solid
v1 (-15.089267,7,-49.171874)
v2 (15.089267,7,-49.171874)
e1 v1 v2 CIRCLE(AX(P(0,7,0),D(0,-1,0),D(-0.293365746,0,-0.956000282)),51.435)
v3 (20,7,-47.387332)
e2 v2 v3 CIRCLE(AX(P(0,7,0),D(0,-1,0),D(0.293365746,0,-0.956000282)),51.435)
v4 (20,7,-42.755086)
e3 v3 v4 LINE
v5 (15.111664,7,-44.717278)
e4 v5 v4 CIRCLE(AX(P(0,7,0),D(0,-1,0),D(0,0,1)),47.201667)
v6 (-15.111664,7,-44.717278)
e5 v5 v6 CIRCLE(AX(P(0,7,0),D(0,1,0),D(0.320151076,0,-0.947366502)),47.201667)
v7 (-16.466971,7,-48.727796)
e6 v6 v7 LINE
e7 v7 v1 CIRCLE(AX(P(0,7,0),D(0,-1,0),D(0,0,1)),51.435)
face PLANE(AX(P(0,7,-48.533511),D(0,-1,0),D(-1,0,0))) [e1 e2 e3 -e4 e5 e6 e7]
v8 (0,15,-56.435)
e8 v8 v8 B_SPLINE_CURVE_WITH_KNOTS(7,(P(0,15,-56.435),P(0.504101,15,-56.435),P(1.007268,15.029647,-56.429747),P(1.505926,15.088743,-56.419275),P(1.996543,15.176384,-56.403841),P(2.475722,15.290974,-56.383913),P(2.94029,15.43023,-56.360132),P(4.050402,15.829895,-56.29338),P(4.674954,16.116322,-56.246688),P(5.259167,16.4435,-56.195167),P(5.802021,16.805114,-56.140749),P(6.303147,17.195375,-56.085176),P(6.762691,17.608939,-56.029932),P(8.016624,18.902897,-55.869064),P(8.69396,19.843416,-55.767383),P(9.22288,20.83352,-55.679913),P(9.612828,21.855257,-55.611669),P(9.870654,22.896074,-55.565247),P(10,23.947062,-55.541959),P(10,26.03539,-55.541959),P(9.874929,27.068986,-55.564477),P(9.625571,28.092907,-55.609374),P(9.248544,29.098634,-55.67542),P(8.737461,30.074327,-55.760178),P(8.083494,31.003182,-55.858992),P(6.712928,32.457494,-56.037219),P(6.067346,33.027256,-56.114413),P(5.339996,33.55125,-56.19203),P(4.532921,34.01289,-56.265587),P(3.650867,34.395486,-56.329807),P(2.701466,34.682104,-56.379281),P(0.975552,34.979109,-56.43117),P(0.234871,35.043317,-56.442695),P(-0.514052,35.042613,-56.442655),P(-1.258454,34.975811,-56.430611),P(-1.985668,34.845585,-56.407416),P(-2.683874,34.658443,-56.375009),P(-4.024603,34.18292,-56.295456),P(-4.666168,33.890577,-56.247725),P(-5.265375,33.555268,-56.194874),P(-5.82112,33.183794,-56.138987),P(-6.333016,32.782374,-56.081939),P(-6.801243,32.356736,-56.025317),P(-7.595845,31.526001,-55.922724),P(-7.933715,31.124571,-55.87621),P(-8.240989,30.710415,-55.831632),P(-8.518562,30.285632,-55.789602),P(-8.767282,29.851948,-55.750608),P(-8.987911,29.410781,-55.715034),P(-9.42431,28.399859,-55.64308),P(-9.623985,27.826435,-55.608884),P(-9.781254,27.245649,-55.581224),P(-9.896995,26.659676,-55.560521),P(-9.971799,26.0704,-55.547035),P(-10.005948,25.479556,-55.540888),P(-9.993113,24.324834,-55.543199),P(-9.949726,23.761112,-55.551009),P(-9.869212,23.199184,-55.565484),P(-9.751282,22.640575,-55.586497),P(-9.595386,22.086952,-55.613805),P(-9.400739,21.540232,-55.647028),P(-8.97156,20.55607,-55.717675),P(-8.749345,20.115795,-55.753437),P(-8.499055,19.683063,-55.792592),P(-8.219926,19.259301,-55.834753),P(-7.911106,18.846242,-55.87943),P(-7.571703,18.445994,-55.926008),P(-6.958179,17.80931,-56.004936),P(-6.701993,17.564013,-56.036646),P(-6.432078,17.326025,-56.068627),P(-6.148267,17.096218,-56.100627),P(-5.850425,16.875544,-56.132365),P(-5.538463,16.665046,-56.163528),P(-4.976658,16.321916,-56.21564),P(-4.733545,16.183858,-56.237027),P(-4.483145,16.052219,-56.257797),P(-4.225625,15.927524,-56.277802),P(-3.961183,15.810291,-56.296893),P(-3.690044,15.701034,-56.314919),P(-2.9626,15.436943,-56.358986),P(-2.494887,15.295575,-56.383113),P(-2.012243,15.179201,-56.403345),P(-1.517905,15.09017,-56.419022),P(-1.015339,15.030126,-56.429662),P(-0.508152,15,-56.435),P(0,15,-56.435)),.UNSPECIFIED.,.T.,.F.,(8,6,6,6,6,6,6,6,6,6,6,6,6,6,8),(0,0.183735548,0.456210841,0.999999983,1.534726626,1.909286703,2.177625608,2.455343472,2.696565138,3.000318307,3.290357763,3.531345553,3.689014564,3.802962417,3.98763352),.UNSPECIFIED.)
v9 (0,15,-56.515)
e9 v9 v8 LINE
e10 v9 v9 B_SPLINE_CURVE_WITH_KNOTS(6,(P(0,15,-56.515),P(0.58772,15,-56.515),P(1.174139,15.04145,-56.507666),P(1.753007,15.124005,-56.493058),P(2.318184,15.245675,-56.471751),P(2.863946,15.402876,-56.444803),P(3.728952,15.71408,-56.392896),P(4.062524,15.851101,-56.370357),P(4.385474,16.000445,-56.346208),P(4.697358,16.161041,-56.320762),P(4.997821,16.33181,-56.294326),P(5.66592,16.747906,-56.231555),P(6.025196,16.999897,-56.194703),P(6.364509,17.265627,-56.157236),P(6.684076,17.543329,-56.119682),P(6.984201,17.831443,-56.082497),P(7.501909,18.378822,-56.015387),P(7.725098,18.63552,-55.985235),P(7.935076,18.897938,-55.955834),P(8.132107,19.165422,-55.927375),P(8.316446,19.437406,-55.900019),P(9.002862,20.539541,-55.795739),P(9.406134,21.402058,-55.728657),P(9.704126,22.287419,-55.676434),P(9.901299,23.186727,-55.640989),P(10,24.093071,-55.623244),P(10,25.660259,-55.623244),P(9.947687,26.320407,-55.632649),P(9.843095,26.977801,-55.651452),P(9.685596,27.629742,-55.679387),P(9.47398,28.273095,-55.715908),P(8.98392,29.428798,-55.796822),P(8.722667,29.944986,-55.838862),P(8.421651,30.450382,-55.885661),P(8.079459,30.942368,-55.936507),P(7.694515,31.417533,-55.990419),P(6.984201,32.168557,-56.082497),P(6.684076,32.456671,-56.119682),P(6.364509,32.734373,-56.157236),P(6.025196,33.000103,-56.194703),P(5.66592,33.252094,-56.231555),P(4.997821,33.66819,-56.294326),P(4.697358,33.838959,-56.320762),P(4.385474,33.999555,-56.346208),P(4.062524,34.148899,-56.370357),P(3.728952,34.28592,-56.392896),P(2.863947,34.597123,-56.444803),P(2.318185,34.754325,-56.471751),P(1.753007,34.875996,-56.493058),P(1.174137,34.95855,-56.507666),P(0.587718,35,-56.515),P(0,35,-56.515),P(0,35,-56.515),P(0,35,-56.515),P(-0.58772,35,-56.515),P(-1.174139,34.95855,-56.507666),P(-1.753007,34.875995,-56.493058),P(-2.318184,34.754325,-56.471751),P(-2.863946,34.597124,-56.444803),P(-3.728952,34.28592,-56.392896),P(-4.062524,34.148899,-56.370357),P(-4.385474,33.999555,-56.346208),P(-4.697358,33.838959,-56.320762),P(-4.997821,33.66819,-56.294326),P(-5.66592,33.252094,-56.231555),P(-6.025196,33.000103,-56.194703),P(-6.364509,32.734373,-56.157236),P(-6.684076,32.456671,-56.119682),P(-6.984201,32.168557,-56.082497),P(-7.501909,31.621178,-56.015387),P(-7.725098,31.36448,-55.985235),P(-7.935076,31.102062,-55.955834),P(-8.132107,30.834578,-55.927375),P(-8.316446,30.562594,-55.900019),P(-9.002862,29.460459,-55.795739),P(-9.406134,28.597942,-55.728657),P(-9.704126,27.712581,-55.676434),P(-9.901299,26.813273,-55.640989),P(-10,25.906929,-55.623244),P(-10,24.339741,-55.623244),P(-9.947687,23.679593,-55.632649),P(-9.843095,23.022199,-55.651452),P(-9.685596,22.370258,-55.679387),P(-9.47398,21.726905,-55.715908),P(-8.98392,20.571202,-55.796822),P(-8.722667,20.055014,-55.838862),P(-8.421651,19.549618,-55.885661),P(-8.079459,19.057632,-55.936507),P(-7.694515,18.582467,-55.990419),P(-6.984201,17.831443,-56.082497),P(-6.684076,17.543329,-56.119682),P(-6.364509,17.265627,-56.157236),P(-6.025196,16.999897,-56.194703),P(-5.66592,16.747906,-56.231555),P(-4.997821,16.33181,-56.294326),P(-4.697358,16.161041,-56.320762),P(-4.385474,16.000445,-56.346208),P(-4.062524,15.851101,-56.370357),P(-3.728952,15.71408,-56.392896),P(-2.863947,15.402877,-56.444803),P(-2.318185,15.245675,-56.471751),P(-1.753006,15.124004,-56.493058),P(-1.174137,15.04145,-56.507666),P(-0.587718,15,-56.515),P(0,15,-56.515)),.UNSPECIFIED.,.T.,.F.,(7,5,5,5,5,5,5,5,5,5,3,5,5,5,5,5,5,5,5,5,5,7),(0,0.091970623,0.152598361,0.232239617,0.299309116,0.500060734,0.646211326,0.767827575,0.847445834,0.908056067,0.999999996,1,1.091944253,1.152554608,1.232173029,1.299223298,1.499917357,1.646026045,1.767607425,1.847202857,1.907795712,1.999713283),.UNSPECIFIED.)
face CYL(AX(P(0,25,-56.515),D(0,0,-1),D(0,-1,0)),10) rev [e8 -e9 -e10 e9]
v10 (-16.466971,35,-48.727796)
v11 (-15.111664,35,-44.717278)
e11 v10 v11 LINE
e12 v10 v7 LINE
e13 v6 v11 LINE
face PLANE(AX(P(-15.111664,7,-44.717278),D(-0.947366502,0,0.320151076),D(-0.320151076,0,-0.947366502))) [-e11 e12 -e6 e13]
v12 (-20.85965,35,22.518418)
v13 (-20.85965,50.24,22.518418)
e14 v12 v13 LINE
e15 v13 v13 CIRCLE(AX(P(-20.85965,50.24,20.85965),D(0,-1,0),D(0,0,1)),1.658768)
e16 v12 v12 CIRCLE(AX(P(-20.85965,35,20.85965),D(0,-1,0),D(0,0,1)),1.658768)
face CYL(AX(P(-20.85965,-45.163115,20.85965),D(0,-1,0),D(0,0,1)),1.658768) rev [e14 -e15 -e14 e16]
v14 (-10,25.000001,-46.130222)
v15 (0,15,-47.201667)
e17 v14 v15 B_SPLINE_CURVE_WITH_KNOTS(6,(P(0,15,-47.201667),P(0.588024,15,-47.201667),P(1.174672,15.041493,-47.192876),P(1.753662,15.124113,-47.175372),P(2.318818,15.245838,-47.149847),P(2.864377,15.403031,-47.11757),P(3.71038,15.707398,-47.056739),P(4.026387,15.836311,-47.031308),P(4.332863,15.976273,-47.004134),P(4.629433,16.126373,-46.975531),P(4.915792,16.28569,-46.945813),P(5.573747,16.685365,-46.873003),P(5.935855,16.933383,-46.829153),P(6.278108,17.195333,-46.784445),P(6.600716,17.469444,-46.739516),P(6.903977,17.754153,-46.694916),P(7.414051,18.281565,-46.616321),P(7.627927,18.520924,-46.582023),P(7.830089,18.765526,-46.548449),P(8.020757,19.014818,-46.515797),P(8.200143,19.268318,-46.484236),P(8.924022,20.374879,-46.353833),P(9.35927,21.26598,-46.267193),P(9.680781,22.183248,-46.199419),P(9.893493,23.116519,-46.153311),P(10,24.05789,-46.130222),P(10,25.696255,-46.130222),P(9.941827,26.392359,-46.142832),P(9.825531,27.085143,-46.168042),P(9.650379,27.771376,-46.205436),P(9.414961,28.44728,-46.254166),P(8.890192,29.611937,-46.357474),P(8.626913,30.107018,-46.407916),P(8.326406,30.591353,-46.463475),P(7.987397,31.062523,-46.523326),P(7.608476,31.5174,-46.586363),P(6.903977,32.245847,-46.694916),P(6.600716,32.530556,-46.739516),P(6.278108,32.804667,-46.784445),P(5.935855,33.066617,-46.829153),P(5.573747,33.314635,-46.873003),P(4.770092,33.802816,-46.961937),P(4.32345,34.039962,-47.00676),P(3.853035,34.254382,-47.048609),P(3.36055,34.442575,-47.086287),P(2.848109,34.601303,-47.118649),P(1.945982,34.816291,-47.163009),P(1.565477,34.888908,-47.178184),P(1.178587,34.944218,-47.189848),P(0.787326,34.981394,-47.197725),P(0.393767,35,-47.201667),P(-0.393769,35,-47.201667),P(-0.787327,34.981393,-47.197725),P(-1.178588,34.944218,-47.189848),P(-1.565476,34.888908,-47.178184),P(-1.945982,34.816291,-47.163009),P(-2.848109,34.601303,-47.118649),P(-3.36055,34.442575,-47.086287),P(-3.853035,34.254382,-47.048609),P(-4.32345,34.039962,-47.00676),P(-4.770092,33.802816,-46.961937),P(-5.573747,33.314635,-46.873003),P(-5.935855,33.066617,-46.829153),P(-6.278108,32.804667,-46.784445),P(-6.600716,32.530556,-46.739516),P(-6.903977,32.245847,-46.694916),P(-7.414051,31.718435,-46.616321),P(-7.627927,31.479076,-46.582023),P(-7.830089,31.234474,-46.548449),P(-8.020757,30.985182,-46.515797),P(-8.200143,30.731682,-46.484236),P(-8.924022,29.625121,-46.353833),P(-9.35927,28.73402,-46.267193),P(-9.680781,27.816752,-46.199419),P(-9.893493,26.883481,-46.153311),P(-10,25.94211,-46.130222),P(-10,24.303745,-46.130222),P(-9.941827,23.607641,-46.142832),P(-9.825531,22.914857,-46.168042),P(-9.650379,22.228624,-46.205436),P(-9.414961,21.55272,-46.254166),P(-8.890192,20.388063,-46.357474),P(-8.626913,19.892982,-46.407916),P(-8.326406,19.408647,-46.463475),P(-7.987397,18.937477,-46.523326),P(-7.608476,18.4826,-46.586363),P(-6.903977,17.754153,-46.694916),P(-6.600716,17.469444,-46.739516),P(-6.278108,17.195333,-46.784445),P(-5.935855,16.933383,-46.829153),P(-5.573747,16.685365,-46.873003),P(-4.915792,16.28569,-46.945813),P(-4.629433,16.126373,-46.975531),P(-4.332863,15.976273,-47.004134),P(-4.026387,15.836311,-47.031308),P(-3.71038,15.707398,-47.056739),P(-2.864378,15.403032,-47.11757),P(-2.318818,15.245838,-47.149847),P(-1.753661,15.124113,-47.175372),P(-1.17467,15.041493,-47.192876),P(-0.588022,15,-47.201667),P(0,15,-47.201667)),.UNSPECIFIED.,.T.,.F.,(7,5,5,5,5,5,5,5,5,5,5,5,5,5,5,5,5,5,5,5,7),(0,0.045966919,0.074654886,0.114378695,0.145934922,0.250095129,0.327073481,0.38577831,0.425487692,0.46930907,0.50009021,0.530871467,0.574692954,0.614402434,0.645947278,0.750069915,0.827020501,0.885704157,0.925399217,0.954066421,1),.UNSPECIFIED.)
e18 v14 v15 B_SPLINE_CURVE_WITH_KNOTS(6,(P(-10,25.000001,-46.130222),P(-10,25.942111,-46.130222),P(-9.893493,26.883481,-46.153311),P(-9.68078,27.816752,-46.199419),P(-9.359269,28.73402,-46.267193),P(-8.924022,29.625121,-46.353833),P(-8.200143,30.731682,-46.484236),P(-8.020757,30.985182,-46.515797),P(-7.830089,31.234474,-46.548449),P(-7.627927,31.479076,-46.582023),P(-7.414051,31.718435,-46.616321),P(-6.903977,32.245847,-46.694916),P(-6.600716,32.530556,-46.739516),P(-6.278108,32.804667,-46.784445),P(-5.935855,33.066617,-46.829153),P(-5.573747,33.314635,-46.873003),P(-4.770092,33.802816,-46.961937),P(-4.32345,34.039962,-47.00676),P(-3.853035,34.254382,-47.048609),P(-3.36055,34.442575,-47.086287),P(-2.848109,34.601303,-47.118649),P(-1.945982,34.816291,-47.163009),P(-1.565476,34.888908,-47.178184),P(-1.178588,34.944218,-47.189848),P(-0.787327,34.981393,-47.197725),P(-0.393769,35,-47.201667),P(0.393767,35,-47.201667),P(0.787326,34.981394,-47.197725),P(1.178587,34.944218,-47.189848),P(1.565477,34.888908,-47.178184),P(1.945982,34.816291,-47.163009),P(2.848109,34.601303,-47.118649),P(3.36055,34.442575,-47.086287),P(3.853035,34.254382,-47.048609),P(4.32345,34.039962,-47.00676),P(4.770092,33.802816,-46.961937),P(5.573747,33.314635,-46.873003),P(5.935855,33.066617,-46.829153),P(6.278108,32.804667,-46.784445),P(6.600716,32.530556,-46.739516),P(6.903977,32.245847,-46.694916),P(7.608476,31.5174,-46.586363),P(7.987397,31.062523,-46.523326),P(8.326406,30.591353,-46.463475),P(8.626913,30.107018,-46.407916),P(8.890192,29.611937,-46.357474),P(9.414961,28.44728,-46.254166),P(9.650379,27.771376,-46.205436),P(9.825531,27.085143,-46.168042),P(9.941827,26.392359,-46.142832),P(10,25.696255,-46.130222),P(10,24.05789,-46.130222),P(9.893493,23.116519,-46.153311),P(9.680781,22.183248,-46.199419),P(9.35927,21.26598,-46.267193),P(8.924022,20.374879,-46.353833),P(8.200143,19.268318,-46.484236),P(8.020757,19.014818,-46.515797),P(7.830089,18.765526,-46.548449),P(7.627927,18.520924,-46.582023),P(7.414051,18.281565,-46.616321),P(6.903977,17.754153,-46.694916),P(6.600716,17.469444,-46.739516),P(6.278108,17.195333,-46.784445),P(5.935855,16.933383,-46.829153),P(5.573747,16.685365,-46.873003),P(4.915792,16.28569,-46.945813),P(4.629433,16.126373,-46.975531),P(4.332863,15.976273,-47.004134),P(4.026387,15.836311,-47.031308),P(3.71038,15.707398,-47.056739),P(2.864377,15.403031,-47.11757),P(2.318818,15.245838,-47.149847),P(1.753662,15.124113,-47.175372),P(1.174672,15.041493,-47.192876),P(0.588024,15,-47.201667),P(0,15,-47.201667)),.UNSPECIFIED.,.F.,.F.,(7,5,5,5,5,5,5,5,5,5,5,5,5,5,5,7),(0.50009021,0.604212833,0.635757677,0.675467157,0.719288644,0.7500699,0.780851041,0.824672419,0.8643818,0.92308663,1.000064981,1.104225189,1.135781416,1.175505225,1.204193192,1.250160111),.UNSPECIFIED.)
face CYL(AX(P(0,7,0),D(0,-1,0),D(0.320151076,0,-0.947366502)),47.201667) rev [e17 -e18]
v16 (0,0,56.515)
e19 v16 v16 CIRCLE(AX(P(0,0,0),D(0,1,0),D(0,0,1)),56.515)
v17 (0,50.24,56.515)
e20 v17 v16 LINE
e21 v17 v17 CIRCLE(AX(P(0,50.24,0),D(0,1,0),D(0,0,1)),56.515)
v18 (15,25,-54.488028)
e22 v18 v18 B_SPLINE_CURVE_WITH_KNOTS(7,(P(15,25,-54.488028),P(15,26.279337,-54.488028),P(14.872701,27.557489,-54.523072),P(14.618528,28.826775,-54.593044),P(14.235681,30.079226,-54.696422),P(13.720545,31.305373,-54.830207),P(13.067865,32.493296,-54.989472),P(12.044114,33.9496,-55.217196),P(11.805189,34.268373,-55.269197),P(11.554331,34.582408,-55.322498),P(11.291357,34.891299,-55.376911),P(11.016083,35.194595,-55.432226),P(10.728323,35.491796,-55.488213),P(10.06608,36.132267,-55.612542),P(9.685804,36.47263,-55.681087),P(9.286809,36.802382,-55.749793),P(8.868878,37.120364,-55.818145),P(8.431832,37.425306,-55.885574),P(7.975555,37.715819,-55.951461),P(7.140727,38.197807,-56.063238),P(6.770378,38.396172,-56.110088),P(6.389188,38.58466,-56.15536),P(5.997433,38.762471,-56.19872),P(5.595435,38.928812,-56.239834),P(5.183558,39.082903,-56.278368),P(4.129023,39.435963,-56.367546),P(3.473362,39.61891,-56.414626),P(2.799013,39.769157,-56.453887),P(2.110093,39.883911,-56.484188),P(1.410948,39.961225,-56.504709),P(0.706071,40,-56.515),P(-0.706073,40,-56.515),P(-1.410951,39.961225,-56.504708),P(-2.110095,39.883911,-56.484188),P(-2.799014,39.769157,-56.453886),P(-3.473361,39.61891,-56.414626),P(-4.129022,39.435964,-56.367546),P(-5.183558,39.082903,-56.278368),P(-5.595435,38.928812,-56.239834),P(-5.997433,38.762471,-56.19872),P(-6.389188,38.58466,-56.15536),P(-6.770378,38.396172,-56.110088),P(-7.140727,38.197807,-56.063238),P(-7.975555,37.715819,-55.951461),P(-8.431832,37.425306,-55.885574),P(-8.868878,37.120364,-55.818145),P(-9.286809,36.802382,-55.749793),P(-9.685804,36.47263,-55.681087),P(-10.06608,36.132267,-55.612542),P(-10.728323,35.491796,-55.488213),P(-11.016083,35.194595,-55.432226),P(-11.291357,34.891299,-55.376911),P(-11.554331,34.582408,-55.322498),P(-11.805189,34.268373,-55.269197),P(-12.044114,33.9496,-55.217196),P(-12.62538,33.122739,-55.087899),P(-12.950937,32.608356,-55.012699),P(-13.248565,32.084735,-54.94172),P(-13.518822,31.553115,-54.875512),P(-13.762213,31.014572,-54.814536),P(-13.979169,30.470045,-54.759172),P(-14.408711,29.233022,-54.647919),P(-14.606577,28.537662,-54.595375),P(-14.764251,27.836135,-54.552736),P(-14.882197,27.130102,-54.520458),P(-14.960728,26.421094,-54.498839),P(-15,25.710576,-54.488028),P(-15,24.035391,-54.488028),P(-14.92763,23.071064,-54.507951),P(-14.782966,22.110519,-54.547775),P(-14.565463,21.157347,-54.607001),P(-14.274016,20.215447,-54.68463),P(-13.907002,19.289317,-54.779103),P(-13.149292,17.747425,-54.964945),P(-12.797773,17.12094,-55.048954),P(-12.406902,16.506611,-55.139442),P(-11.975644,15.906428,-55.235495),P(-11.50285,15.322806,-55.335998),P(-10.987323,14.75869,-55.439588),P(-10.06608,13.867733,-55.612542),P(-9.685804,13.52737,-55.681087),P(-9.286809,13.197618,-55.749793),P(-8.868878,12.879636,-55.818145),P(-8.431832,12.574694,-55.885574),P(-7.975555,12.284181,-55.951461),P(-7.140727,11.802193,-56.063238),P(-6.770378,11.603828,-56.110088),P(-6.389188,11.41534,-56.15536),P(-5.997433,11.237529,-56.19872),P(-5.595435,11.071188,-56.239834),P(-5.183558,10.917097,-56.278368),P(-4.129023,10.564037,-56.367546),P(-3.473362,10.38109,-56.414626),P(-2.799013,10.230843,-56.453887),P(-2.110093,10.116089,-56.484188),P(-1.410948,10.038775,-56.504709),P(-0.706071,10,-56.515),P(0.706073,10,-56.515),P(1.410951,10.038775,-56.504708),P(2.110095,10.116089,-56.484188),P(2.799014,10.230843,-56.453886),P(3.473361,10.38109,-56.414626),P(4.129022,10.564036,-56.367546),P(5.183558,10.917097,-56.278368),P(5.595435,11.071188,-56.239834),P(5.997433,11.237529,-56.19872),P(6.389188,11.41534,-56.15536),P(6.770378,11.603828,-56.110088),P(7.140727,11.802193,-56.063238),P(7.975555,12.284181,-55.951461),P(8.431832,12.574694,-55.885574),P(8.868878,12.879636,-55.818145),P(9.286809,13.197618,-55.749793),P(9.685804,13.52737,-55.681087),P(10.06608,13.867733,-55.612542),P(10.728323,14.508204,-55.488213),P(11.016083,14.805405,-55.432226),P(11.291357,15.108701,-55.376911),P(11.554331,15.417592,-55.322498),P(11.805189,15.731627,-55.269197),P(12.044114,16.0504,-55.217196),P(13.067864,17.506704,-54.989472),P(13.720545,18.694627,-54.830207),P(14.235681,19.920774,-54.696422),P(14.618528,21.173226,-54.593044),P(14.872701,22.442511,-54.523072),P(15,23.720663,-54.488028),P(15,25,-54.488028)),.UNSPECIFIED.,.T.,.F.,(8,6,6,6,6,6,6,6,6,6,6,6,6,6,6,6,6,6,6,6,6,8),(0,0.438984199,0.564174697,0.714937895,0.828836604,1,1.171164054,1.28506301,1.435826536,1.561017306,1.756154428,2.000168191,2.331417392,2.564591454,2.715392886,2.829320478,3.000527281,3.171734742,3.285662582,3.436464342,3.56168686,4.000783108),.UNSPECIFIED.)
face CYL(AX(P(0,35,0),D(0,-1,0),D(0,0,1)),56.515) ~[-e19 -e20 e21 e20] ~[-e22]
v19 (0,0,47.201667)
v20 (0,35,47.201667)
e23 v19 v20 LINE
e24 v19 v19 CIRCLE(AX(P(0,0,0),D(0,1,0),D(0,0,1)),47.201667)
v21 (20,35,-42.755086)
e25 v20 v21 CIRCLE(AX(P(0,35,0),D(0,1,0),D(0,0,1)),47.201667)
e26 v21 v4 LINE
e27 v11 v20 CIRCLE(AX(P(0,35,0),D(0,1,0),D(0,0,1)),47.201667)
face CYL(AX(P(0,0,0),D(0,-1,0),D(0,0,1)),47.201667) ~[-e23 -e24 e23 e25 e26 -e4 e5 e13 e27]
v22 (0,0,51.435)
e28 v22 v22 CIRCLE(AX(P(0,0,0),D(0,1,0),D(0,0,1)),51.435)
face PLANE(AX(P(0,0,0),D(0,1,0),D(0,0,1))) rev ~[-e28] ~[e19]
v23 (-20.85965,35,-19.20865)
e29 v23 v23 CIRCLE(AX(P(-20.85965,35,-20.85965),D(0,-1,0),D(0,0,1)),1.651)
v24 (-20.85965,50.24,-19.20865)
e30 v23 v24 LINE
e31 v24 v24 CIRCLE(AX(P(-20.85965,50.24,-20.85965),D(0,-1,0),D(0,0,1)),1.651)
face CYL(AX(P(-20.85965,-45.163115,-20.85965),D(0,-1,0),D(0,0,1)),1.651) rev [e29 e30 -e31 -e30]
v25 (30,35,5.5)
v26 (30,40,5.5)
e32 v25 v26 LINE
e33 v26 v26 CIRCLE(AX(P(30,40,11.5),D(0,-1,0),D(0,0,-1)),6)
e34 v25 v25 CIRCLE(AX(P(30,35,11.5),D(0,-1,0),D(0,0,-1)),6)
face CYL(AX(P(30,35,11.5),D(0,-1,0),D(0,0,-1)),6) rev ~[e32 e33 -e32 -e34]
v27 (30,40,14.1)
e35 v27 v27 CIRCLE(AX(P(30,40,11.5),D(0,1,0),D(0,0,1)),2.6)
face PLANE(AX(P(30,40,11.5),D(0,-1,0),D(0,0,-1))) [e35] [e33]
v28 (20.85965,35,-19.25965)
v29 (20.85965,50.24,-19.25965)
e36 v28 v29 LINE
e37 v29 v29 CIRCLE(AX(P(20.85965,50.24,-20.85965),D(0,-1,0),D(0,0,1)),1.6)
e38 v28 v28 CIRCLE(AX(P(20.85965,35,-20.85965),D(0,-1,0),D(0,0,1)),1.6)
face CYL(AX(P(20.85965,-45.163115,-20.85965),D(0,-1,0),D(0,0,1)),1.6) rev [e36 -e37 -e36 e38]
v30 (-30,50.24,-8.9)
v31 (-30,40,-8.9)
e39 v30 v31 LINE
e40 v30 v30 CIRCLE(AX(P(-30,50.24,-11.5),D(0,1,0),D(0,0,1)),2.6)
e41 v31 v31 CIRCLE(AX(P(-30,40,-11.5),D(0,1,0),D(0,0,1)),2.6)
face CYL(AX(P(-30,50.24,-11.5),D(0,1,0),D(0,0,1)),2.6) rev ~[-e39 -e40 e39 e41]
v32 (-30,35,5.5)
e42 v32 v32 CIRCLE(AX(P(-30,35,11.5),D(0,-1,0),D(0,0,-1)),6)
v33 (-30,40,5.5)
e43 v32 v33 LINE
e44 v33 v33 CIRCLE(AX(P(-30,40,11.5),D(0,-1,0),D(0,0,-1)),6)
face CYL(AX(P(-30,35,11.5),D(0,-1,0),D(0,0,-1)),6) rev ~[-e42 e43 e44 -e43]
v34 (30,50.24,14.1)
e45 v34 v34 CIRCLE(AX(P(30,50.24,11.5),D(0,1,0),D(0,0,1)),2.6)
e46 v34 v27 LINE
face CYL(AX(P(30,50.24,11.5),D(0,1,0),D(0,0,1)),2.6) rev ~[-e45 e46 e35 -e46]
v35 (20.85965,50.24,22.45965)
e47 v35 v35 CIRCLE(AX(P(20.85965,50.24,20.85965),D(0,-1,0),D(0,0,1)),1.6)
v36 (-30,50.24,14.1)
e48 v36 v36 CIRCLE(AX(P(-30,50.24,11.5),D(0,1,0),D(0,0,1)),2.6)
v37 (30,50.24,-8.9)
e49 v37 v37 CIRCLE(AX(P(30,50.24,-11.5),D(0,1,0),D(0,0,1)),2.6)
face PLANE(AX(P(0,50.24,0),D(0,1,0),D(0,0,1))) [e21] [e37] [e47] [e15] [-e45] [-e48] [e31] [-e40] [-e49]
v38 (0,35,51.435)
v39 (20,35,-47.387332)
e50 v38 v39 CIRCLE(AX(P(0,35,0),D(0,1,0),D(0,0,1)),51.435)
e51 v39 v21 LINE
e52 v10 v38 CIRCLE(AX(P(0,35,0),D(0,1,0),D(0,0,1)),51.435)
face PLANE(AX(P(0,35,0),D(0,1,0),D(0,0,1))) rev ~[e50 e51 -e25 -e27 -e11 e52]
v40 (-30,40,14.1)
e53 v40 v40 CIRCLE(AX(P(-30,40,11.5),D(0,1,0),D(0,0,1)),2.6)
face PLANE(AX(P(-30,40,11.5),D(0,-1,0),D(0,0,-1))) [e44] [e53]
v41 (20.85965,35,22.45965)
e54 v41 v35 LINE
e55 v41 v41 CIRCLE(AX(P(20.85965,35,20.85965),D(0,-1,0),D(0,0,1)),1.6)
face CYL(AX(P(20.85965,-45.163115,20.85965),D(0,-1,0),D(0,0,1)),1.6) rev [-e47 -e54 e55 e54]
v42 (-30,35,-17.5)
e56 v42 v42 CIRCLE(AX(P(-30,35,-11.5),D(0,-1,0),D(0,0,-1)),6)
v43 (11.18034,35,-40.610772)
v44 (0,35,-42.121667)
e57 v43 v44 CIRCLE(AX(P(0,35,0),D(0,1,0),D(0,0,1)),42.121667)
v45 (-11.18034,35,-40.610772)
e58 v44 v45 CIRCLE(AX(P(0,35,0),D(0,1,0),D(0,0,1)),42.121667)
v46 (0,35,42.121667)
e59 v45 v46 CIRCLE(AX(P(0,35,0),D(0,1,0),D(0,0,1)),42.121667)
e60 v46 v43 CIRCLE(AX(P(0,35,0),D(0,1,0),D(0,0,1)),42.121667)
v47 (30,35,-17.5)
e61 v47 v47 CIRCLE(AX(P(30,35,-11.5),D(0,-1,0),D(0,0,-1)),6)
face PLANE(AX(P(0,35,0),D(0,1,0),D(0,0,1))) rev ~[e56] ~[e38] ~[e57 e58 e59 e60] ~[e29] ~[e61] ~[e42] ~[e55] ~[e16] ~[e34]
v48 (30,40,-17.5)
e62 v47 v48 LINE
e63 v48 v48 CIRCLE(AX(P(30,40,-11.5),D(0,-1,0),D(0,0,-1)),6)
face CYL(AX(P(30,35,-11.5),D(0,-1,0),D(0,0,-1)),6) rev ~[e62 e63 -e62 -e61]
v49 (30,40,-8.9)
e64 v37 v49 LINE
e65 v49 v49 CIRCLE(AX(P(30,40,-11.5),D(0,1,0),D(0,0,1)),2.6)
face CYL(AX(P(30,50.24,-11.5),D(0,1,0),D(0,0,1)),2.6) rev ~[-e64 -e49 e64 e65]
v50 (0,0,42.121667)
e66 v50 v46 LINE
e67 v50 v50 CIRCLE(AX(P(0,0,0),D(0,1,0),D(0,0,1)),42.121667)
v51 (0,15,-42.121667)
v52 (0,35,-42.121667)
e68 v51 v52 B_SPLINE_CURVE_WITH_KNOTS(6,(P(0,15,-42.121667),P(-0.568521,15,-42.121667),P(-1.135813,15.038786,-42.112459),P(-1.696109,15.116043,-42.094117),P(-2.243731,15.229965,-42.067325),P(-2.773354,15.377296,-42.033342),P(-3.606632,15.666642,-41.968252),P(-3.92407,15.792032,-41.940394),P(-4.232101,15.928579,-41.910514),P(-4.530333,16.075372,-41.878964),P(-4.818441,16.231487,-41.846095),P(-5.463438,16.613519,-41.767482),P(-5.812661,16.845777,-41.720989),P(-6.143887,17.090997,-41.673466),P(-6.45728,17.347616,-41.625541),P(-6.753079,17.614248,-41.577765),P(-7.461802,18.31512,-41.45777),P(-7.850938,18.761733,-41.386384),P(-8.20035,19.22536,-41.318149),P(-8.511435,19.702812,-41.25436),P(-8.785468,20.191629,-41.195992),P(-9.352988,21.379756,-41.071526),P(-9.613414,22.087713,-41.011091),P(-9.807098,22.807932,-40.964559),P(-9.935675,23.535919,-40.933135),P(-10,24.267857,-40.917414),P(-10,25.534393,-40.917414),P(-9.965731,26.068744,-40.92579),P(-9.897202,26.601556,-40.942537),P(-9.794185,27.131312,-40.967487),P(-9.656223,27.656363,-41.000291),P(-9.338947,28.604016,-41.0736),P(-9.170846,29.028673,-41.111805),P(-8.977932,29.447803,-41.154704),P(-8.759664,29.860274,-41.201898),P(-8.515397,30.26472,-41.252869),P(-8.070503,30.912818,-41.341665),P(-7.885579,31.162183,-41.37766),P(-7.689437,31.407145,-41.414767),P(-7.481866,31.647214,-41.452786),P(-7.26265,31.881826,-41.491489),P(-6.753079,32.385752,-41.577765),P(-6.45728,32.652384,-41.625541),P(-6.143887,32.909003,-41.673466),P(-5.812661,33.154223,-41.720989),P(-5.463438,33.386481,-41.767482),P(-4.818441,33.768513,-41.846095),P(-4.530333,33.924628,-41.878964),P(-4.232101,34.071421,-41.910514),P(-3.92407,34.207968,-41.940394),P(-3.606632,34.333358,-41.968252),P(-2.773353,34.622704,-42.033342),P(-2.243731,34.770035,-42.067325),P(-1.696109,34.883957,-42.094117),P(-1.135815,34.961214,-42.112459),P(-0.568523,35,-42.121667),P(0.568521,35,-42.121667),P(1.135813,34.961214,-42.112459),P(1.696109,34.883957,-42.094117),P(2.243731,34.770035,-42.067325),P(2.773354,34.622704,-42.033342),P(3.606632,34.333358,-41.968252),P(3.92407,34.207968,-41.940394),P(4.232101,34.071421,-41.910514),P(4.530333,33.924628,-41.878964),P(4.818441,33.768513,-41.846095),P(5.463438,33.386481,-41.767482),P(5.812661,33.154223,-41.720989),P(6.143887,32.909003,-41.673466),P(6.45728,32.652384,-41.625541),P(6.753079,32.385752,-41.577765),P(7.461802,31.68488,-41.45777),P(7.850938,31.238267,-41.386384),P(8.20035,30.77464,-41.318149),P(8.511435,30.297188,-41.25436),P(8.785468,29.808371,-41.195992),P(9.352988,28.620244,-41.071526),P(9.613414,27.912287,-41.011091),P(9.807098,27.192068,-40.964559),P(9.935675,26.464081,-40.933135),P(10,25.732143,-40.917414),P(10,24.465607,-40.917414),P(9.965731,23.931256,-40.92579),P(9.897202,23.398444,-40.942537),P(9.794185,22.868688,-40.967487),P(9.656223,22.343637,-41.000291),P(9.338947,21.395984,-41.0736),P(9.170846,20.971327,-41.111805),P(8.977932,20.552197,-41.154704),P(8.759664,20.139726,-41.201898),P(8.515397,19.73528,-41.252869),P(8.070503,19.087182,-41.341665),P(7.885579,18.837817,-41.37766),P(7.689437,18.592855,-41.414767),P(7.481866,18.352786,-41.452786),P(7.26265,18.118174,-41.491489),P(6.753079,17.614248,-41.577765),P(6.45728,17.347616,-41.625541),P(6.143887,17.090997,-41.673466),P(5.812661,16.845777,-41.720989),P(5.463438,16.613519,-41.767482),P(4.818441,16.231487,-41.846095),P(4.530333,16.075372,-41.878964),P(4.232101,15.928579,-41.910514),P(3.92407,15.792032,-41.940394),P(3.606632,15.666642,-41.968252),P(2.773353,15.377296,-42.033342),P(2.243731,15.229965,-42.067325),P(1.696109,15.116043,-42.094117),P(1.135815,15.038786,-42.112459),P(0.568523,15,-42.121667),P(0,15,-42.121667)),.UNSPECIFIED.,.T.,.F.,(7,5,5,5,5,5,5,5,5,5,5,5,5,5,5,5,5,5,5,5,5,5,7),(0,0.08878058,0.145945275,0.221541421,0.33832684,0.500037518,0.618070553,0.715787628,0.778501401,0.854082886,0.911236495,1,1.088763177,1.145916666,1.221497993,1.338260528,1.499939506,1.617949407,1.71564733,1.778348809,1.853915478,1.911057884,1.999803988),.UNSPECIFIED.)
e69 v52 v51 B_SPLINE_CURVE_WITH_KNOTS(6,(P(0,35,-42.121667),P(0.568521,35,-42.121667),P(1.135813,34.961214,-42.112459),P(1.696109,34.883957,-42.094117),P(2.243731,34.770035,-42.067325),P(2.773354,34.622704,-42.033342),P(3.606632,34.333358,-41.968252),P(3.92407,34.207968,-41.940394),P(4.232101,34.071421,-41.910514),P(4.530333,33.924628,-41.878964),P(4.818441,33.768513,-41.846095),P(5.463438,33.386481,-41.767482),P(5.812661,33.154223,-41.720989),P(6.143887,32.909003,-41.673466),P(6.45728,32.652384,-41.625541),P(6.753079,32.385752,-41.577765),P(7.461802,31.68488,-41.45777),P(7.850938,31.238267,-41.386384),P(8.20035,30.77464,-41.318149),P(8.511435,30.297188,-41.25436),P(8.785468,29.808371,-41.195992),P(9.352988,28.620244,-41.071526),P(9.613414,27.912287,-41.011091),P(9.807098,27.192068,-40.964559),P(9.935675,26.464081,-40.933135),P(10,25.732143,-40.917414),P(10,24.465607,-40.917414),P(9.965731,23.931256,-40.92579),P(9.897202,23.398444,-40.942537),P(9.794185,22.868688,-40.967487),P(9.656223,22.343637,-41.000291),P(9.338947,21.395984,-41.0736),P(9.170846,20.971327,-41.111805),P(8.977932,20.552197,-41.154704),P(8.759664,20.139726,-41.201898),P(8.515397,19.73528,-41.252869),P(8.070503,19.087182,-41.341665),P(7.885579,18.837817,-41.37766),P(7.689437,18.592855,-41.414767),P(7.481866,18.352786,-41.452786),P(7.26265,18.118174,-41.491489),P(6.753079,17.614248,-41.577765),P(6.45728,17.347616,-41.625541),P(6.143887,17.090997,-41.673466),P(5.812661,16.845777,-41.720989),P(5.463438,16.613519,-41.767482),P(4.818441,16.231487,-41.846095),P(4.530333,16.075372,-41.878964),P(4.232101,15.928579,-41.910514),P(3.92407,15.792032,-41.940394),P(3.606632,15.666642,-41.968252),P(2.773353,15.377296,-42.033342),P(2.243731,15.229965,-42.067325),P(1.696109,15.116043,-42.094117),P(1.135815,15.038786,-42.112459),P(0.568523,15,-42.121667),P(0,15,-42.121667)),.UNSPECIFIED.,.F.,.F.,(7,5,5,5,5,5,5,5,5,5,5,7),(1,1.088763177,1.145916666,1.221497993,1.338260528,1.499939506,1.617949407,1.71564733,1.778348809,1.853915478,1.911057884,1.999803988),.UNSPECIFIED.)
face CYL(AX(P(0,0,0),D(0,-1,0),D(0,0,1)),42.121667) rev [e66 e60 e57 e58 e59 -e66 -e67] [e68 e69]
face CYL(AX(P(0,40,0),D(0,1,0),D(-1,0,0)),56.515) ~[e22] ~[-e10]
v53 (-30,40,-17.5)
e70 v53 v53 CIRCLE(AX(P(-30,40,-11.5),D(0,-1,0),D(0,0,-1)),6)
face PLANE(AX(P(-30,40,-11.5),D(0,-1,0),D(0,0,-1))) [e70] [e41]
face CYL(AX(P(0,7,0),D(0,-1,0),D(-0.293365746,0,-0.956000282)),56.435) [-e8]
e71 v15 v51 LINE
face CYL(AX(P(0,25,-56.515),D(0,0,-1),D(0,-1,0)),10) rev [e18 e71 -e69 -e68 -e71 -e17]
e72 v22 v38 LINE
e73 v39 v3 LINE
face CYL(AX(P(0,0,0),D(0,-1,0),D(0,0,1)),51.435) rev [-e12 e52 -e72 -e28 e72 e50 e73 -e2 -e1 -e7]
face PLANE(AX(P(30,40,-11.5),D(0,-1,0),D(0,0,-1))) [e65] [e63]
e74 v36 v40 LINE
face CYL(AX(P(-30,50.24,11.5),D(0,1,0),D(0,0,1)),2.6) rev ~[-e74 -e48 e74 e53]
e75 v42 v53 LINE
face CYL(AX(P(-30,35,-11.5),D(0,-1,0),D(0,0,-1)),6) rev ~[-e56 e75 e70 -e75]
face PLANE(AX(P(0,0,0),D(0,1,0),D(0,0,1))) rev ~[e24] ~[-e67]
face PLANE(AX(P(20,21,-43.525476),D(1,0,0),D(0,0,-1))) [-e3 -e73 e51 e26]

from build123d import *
from build123d.topology import SkipClean

# Parameters (mm, degrees)
SKETCH2_R                = 56.515
SKETCH2_R_2              = 51.435
BOSS_EXTRUDE1_DEPTH      = 35
SKETCH2_R_3              = 47.201666667
SKETCH2_R_4              = 42.121666667
BOSS_EXTRUDE1_2_DEPTH    = 35
SKETCH3_R                = 56.515
BOSS_EXTRUDE2_DEPTH      = 15.24
CUT_EXTRUDE1_DEPTH       = 95.40311462
CUT_EXTRUDE1_DEPTH_BACK  = 95.40311462
SKETCH4_R                = 1.6
SKETCH4_R_2              = 1.65876763
SKETCH4_R_3              = 1.651
CUT_EXTRUDE18_REACH      = 96.403
SKETCH32_R               = 2.6
SKETCH_1_R               = 6
CUT_EXTRUDE_1_DEPTH      = 5
CUT_EXTRUDE_2_REACH      = 137.992
CUT_EXTRUDE_2_END_RADIUS = 42.121666667
SKETCH_3_R               = 10
SKETCH_4_R               = 15
SKETCH_4_R_2             = 10
EXTRUDE_1_DEPTH          = 17.154678362
SKETCH_10_W              = 5
SKETCH_10_H              = 4.233333333
SKETCH_10_H_2            = 4.444320869
EXTRUDE_3_DEPTH          = 33
CUT_EXTRUDE_START        = -40
SKETCH_11_R              = 61.515
SKETCH_11_R_2            = 56.515
CUT_EXTRUDE_3_DEPTH      = 30
SKETCH_15_W              = 2.458765136
SKETCH_15_H              = 28
EXTRUDE_9_DEPTH          = 5


with BuildPart() as part:
    # Sketch2 → Boss-Extrude1 (new body)
    with BuildSketch(Plane(origin=(0, 0, 0), x_dir=(1, 0, 0), z_dir=(0, 1, 0))):
        with Locations(Location((0, 0, 0), (0, 0, 270))):
            Circle(SKETCH2_R)
        with Locations(Location((0, 0, 0), (0, 0, 270))):
            Circle(SKETCH2_R_2, mode=Mode.SUBTRACT)
    extrude(amount=BOSS_EXTRUDE1_DEPTH)



with BuildPart() as body_2:
    # Sketch2 → Boss-Extrude1 2 (new body)
    with BuildSketch(Plane(origin=(0, 0, 0), x_dir=(1, 0, 0), z_dir=(0, 1, 0))):
        with Locations(Location((0, 0, 0), (0, 0, 270))):
            Circle(SKETCH2_R_3)
        with Locations(Location((0, 0, 0), (0, 0, 270))):
            Circle(SKETCH2_R_4, mode=Mode.SUBTRACT)
    extrude(amount=BOSS_EXTRUDE1_2_DEPTH)


with BuildPart() as part_1:
    add(part.part)

    add(body_2.part)  # Boss-Extrude2 merges body 2
    # Sketch3 → Boss-Extrude2 (add)
    with BuildSketch(Plane(origin=(0, 35, 0), x_dir=(1, 0, 0), z_dir=(0, 1, 0))):
        with Locations(Location((0, 0, 0), (0, 0, 270))):
            Circle(SKETCH3_R)
    extrude(amount=BOSS_EXTRUDE2_DEPTH)

    # Sketch4 → Cut-Extrude1 (cut, two sides: drawn at the far end of the back side and taken through both)
    with BuildSketch(Plane(origin=(0, 50.24, 0), x_dir=(1, 0, 0), z_dir=(0, 1, 0)).offset(-CUT_EXTRUDE1_DEPTH_BACK)):
        with Locations(Location((20.859650045, 20.859650045, 0), (0, 0, 270))):
            Circle(SKETCH4_R)
        with Locations(Location((20.859650045, -20.859650045, 0), (0, 0, 270))):
            Circle(SKETCH4_R)
        with Locations(Location((-20.859650045, -20.859650045, 0), (0, 0, 270))):
            Circle(SKETCH4_R_2)
        with Locations(Location((-20.859650045, 20.859650045, 0), (0, 0, 270))):
            Circle(SKETCH4_R_3)
    extrude(amount=CUT_EXTRUDE1_DEPTH + CUT_EXTRUDE1_DEPTH_BACK, mode=Mode.SUBTRACT)

    # Sketch32 → Cut-Extrude18 (cut, up to next)
    with BuildSketch(Plane(origin=(0, 50.24, 0), x_dir=(1, 0, 0), z_dir=(0, 1, 0)), mode=Mode.PRIVATE) as cut_extrude18_sk1:
        with Locations(Location((30, 11.5, 0), (0, 0, 270))):
            Circle(SKETCH32_R)
    cut_extrude18_tool1 = extrude(cut_extrude18_sk1.sketch, amount=-CUT_EXTRUDE18_REACH, mode=Mode.PRIVATE) & part_1.part
    # Sketch32 → Cut-Extrude18 (cut, up to next)
    with BuildSketch(Plane(origin=(0, 50.24, 0), x_dir=(1, 0, 0), z_dir=(0, 1, 0)), mode=Mode.PRIVATE) as cut_extrude18_sk2:
        with Locations(Location((30, -11.5, 0), (0, 0, 270))):
            Circle(SKETCH32_R)
    cut_extrude18_tool2 = extrude(cut_extrude18_sk2.sketch, amount=-CUT_EXTRUDE18_REACH, mode=Mode.PRIVATE) & part_1.part
    # Sketch32 → Cut-Extrude18 (cut, up to next)
    with BuildSketch(Plane(origin=(0, 50.24, 0), x_dir=(1, 0, 0), z_dir=(0, 1, 0)), mode=Mode.PRIVATE) as cut_extrude18_sk3:
        with Locations(Location((-30, -11.5, 0), (0, 0, 270))):
            Circle(SKETCH32_R)
    cut_extrude18_tool3 = extrude(cut_extrude18_sk3.sketch, amount=-CUT_EXTRUDE18_REACH, mode=Mode.PRIVATE) & part_1.part
    # Sketch32 → Cut-Extrude18 (cut, up to next)
    with BuildSketch(Plane(origin=(0, 50.24, 0), x_dir=(1, 0, 0), z_dir=(0, 1, 0)), mode=Mode.PRIVATE) as cut_extrude18_sk4:
        with Locations(Location((-30, 11.5, 0), (0, 0, 270))):
            Circle(SKETCH32_R)
    cut_extrude18_tool4 = extrude(cut_extrude18_sk4.sketch, amount=-CUT_EXTRUDE18_REACH, mode=Mode.PRIVATE) & part_1.part
    add(cut_extrude18_tool1.solids().sort_by_distance((30, 50.24, -11.5))[0], mode=Mode.SUBTRACT)
    add(cut_extrude18_tool2.solids().sort_by_distance((30, 50.24, 11.5))[0], mode=Mode.SUBTRACT)
    add(cut_extrude18_tool3.solids().sort_by_distance((-30, 50.24, 11.5))[0], mode=Mode.SUBTRACT)
    add(cut_extrude18_tool4.solids().sort_by_distance((-30, 50.24, -11.5))[0], mode=Mode.SUBTRACT)

    # 草图1 → 切除-拉伸1 (cut)
    with BuildSketch(Plane(origin=(0, 35, 0), x_dir=(-1, 0, 0), z_dir=(0, -1, 0))):
        with Locations(Location((30, 11.5, 0), (0, 0, 90))):
            Circle(SKETCH_1_R)
        with Locations(Location((30, -11.5, 0), (0, 0, 90))):
            Circle(SKETCH_1_R)
        with Locations(Location((-30, 11.5, 0), (0, 0, 90))):
            Circle(SKETCH_1_R)
        with Locations(Location((-30, -11.5, 0), (0, 0, 90))):
            Circle(SKETCH_1_R)
    extrude(amount=-CUT_EXTRUDE_1_DEPTH, mode=Mode.SUBTRACT)

    # 切除-拉伸2: up to this cylinder (the profile starts outside it)
    cut_extrude_2_end = Plane(origin=(0, 25, 0), z_dir=(0, -1, 0)) * Cylinder(CUT_EXTRUDE_2_END_RADIUS, 361.227333333, mode=Mode.PRIVATE)
    # 草图3 → 切除-拉伸2 (cut, up to the surface)
    with BuildSketch(Plane.XY.offset(-56.515), mode=Mode.PRIVATE) as cut_extrude_2_sk1:
        with Locations(Location((0, 25, 0), (0, 0, 270))):
            Circle(SKETCH_3_R)
    cut_extrude_2_tool1 = extrude(cut_extrude_2_sk1.sketch, amount=CUT_EXTRUDE_2_REACH, mode=Mode.PRIVATE) - cut_extrude_2_end
    add(cut_extrude_2_tool1.solids().sort_by_distance((0, 25, -56.515))[0], mode=Mode.SUBTRACT)

    # 草图4 → 拉伸-薄壁1 (add)
    with SkipClean():  # the faces are left unmerged after this step: merging them gives an invalid solid
        with BuildSketch(Plane.XY.offset(-56.515)):
            with Locations((0, 25)):
                Circle(SKETCH_4_R)
            with Locations((0, 25)):
                Circle(SKETCH_4_R_2, mode=Mode.SUBTRACT)
        extrude(amount=EXTRUDE_1_DEPTH)

    # 草图10 → 拉伸-薄壁3 (add)
    with SkipClean():  # the faces are left unmerged after this step: merging them gives an invalid solid
        with BuildSketch(Plane(origin=(0, 7, 0), x_dir=(1, 0, 0), z_dir=(0, 1, 0))):
            with Locations((2.5, 49.318333334)):
                Rectangle(SKETCH_10_W, SKETCH_10_H)
            with Locations((-12.5, 46.977018675)):
                Rectangle(SKETCH_10_W, SKETCH_10_H_2)
            with Locations((17.5, 46.977018675)):
                Rectangle(SKETCH_10_W, SKETCH_10_H_2)
            with BuildLine():
                ThreePointArc((15.089267159, 49.171874498), (0, 51.435), (-15.089267159, 49.171874498))
                Line((-15.089267159, 49.171874498), (-16.55609589, 53.951875907))
                ThreePointArc((-16.55609589, 53.951875907), (0, 56.435), (16.55609589, 53.951875907))
                Line((16.55609589, 53.951875907), (15.089267159, 49.171874498))
            make_face()
            with BuildLine():
                ThreePointArc((15.111664358, 44.717277829), (0, 47.201666667), (-15.111664358, 44.717277829))
                Line((-15.111664358, 44.717277829), (-16.712419736, 49.454110338))
                ThreePointArc((-16.712419736, 49.454110338), (0, 52.201666667), (16.712419736, 49.454110338))
                Line((16.712419736, 49.454110338), (15.111664358, 44.717277829))
            make_face()
        extrude(amount=EXTRUDE_3_DEPTH)

    # 草图11 → 切除-拉伸-薄壁3 (cut)
    with SkipClean():  # the faces are left unmerged after this step: merging them gives an invalid solid
        with BuildSketch(Plane(origin=(0, 0, 0), x_dir=(-1, 0, 0), z_dir=(0, -1, 0)).offset(CUT_EXTRUDE_START)):
            Circle(SKETCH_11_R)
            Circle(SKETCH_11_R_2, mode=Mode.SUBTRACT)
        extrude(amount=CUT_EXTRUDE_3_DEPTH, mode=Mode.SUBTRACT)

    # 草图15 → 凸台-拉伸9 (add)
    with BuildSketch(Plane(origin=(20, 0, 0), x_dir=(0, 0, -1), z_dir=(1, 0, 0))):
        with Locations((43.525475672, 21)):
            Rectangle(SKETCH_15_W, SKETCH_15_H)
    extrude(amount=-EXTRUDE_9_DEPTH)


solid = part_1.part
